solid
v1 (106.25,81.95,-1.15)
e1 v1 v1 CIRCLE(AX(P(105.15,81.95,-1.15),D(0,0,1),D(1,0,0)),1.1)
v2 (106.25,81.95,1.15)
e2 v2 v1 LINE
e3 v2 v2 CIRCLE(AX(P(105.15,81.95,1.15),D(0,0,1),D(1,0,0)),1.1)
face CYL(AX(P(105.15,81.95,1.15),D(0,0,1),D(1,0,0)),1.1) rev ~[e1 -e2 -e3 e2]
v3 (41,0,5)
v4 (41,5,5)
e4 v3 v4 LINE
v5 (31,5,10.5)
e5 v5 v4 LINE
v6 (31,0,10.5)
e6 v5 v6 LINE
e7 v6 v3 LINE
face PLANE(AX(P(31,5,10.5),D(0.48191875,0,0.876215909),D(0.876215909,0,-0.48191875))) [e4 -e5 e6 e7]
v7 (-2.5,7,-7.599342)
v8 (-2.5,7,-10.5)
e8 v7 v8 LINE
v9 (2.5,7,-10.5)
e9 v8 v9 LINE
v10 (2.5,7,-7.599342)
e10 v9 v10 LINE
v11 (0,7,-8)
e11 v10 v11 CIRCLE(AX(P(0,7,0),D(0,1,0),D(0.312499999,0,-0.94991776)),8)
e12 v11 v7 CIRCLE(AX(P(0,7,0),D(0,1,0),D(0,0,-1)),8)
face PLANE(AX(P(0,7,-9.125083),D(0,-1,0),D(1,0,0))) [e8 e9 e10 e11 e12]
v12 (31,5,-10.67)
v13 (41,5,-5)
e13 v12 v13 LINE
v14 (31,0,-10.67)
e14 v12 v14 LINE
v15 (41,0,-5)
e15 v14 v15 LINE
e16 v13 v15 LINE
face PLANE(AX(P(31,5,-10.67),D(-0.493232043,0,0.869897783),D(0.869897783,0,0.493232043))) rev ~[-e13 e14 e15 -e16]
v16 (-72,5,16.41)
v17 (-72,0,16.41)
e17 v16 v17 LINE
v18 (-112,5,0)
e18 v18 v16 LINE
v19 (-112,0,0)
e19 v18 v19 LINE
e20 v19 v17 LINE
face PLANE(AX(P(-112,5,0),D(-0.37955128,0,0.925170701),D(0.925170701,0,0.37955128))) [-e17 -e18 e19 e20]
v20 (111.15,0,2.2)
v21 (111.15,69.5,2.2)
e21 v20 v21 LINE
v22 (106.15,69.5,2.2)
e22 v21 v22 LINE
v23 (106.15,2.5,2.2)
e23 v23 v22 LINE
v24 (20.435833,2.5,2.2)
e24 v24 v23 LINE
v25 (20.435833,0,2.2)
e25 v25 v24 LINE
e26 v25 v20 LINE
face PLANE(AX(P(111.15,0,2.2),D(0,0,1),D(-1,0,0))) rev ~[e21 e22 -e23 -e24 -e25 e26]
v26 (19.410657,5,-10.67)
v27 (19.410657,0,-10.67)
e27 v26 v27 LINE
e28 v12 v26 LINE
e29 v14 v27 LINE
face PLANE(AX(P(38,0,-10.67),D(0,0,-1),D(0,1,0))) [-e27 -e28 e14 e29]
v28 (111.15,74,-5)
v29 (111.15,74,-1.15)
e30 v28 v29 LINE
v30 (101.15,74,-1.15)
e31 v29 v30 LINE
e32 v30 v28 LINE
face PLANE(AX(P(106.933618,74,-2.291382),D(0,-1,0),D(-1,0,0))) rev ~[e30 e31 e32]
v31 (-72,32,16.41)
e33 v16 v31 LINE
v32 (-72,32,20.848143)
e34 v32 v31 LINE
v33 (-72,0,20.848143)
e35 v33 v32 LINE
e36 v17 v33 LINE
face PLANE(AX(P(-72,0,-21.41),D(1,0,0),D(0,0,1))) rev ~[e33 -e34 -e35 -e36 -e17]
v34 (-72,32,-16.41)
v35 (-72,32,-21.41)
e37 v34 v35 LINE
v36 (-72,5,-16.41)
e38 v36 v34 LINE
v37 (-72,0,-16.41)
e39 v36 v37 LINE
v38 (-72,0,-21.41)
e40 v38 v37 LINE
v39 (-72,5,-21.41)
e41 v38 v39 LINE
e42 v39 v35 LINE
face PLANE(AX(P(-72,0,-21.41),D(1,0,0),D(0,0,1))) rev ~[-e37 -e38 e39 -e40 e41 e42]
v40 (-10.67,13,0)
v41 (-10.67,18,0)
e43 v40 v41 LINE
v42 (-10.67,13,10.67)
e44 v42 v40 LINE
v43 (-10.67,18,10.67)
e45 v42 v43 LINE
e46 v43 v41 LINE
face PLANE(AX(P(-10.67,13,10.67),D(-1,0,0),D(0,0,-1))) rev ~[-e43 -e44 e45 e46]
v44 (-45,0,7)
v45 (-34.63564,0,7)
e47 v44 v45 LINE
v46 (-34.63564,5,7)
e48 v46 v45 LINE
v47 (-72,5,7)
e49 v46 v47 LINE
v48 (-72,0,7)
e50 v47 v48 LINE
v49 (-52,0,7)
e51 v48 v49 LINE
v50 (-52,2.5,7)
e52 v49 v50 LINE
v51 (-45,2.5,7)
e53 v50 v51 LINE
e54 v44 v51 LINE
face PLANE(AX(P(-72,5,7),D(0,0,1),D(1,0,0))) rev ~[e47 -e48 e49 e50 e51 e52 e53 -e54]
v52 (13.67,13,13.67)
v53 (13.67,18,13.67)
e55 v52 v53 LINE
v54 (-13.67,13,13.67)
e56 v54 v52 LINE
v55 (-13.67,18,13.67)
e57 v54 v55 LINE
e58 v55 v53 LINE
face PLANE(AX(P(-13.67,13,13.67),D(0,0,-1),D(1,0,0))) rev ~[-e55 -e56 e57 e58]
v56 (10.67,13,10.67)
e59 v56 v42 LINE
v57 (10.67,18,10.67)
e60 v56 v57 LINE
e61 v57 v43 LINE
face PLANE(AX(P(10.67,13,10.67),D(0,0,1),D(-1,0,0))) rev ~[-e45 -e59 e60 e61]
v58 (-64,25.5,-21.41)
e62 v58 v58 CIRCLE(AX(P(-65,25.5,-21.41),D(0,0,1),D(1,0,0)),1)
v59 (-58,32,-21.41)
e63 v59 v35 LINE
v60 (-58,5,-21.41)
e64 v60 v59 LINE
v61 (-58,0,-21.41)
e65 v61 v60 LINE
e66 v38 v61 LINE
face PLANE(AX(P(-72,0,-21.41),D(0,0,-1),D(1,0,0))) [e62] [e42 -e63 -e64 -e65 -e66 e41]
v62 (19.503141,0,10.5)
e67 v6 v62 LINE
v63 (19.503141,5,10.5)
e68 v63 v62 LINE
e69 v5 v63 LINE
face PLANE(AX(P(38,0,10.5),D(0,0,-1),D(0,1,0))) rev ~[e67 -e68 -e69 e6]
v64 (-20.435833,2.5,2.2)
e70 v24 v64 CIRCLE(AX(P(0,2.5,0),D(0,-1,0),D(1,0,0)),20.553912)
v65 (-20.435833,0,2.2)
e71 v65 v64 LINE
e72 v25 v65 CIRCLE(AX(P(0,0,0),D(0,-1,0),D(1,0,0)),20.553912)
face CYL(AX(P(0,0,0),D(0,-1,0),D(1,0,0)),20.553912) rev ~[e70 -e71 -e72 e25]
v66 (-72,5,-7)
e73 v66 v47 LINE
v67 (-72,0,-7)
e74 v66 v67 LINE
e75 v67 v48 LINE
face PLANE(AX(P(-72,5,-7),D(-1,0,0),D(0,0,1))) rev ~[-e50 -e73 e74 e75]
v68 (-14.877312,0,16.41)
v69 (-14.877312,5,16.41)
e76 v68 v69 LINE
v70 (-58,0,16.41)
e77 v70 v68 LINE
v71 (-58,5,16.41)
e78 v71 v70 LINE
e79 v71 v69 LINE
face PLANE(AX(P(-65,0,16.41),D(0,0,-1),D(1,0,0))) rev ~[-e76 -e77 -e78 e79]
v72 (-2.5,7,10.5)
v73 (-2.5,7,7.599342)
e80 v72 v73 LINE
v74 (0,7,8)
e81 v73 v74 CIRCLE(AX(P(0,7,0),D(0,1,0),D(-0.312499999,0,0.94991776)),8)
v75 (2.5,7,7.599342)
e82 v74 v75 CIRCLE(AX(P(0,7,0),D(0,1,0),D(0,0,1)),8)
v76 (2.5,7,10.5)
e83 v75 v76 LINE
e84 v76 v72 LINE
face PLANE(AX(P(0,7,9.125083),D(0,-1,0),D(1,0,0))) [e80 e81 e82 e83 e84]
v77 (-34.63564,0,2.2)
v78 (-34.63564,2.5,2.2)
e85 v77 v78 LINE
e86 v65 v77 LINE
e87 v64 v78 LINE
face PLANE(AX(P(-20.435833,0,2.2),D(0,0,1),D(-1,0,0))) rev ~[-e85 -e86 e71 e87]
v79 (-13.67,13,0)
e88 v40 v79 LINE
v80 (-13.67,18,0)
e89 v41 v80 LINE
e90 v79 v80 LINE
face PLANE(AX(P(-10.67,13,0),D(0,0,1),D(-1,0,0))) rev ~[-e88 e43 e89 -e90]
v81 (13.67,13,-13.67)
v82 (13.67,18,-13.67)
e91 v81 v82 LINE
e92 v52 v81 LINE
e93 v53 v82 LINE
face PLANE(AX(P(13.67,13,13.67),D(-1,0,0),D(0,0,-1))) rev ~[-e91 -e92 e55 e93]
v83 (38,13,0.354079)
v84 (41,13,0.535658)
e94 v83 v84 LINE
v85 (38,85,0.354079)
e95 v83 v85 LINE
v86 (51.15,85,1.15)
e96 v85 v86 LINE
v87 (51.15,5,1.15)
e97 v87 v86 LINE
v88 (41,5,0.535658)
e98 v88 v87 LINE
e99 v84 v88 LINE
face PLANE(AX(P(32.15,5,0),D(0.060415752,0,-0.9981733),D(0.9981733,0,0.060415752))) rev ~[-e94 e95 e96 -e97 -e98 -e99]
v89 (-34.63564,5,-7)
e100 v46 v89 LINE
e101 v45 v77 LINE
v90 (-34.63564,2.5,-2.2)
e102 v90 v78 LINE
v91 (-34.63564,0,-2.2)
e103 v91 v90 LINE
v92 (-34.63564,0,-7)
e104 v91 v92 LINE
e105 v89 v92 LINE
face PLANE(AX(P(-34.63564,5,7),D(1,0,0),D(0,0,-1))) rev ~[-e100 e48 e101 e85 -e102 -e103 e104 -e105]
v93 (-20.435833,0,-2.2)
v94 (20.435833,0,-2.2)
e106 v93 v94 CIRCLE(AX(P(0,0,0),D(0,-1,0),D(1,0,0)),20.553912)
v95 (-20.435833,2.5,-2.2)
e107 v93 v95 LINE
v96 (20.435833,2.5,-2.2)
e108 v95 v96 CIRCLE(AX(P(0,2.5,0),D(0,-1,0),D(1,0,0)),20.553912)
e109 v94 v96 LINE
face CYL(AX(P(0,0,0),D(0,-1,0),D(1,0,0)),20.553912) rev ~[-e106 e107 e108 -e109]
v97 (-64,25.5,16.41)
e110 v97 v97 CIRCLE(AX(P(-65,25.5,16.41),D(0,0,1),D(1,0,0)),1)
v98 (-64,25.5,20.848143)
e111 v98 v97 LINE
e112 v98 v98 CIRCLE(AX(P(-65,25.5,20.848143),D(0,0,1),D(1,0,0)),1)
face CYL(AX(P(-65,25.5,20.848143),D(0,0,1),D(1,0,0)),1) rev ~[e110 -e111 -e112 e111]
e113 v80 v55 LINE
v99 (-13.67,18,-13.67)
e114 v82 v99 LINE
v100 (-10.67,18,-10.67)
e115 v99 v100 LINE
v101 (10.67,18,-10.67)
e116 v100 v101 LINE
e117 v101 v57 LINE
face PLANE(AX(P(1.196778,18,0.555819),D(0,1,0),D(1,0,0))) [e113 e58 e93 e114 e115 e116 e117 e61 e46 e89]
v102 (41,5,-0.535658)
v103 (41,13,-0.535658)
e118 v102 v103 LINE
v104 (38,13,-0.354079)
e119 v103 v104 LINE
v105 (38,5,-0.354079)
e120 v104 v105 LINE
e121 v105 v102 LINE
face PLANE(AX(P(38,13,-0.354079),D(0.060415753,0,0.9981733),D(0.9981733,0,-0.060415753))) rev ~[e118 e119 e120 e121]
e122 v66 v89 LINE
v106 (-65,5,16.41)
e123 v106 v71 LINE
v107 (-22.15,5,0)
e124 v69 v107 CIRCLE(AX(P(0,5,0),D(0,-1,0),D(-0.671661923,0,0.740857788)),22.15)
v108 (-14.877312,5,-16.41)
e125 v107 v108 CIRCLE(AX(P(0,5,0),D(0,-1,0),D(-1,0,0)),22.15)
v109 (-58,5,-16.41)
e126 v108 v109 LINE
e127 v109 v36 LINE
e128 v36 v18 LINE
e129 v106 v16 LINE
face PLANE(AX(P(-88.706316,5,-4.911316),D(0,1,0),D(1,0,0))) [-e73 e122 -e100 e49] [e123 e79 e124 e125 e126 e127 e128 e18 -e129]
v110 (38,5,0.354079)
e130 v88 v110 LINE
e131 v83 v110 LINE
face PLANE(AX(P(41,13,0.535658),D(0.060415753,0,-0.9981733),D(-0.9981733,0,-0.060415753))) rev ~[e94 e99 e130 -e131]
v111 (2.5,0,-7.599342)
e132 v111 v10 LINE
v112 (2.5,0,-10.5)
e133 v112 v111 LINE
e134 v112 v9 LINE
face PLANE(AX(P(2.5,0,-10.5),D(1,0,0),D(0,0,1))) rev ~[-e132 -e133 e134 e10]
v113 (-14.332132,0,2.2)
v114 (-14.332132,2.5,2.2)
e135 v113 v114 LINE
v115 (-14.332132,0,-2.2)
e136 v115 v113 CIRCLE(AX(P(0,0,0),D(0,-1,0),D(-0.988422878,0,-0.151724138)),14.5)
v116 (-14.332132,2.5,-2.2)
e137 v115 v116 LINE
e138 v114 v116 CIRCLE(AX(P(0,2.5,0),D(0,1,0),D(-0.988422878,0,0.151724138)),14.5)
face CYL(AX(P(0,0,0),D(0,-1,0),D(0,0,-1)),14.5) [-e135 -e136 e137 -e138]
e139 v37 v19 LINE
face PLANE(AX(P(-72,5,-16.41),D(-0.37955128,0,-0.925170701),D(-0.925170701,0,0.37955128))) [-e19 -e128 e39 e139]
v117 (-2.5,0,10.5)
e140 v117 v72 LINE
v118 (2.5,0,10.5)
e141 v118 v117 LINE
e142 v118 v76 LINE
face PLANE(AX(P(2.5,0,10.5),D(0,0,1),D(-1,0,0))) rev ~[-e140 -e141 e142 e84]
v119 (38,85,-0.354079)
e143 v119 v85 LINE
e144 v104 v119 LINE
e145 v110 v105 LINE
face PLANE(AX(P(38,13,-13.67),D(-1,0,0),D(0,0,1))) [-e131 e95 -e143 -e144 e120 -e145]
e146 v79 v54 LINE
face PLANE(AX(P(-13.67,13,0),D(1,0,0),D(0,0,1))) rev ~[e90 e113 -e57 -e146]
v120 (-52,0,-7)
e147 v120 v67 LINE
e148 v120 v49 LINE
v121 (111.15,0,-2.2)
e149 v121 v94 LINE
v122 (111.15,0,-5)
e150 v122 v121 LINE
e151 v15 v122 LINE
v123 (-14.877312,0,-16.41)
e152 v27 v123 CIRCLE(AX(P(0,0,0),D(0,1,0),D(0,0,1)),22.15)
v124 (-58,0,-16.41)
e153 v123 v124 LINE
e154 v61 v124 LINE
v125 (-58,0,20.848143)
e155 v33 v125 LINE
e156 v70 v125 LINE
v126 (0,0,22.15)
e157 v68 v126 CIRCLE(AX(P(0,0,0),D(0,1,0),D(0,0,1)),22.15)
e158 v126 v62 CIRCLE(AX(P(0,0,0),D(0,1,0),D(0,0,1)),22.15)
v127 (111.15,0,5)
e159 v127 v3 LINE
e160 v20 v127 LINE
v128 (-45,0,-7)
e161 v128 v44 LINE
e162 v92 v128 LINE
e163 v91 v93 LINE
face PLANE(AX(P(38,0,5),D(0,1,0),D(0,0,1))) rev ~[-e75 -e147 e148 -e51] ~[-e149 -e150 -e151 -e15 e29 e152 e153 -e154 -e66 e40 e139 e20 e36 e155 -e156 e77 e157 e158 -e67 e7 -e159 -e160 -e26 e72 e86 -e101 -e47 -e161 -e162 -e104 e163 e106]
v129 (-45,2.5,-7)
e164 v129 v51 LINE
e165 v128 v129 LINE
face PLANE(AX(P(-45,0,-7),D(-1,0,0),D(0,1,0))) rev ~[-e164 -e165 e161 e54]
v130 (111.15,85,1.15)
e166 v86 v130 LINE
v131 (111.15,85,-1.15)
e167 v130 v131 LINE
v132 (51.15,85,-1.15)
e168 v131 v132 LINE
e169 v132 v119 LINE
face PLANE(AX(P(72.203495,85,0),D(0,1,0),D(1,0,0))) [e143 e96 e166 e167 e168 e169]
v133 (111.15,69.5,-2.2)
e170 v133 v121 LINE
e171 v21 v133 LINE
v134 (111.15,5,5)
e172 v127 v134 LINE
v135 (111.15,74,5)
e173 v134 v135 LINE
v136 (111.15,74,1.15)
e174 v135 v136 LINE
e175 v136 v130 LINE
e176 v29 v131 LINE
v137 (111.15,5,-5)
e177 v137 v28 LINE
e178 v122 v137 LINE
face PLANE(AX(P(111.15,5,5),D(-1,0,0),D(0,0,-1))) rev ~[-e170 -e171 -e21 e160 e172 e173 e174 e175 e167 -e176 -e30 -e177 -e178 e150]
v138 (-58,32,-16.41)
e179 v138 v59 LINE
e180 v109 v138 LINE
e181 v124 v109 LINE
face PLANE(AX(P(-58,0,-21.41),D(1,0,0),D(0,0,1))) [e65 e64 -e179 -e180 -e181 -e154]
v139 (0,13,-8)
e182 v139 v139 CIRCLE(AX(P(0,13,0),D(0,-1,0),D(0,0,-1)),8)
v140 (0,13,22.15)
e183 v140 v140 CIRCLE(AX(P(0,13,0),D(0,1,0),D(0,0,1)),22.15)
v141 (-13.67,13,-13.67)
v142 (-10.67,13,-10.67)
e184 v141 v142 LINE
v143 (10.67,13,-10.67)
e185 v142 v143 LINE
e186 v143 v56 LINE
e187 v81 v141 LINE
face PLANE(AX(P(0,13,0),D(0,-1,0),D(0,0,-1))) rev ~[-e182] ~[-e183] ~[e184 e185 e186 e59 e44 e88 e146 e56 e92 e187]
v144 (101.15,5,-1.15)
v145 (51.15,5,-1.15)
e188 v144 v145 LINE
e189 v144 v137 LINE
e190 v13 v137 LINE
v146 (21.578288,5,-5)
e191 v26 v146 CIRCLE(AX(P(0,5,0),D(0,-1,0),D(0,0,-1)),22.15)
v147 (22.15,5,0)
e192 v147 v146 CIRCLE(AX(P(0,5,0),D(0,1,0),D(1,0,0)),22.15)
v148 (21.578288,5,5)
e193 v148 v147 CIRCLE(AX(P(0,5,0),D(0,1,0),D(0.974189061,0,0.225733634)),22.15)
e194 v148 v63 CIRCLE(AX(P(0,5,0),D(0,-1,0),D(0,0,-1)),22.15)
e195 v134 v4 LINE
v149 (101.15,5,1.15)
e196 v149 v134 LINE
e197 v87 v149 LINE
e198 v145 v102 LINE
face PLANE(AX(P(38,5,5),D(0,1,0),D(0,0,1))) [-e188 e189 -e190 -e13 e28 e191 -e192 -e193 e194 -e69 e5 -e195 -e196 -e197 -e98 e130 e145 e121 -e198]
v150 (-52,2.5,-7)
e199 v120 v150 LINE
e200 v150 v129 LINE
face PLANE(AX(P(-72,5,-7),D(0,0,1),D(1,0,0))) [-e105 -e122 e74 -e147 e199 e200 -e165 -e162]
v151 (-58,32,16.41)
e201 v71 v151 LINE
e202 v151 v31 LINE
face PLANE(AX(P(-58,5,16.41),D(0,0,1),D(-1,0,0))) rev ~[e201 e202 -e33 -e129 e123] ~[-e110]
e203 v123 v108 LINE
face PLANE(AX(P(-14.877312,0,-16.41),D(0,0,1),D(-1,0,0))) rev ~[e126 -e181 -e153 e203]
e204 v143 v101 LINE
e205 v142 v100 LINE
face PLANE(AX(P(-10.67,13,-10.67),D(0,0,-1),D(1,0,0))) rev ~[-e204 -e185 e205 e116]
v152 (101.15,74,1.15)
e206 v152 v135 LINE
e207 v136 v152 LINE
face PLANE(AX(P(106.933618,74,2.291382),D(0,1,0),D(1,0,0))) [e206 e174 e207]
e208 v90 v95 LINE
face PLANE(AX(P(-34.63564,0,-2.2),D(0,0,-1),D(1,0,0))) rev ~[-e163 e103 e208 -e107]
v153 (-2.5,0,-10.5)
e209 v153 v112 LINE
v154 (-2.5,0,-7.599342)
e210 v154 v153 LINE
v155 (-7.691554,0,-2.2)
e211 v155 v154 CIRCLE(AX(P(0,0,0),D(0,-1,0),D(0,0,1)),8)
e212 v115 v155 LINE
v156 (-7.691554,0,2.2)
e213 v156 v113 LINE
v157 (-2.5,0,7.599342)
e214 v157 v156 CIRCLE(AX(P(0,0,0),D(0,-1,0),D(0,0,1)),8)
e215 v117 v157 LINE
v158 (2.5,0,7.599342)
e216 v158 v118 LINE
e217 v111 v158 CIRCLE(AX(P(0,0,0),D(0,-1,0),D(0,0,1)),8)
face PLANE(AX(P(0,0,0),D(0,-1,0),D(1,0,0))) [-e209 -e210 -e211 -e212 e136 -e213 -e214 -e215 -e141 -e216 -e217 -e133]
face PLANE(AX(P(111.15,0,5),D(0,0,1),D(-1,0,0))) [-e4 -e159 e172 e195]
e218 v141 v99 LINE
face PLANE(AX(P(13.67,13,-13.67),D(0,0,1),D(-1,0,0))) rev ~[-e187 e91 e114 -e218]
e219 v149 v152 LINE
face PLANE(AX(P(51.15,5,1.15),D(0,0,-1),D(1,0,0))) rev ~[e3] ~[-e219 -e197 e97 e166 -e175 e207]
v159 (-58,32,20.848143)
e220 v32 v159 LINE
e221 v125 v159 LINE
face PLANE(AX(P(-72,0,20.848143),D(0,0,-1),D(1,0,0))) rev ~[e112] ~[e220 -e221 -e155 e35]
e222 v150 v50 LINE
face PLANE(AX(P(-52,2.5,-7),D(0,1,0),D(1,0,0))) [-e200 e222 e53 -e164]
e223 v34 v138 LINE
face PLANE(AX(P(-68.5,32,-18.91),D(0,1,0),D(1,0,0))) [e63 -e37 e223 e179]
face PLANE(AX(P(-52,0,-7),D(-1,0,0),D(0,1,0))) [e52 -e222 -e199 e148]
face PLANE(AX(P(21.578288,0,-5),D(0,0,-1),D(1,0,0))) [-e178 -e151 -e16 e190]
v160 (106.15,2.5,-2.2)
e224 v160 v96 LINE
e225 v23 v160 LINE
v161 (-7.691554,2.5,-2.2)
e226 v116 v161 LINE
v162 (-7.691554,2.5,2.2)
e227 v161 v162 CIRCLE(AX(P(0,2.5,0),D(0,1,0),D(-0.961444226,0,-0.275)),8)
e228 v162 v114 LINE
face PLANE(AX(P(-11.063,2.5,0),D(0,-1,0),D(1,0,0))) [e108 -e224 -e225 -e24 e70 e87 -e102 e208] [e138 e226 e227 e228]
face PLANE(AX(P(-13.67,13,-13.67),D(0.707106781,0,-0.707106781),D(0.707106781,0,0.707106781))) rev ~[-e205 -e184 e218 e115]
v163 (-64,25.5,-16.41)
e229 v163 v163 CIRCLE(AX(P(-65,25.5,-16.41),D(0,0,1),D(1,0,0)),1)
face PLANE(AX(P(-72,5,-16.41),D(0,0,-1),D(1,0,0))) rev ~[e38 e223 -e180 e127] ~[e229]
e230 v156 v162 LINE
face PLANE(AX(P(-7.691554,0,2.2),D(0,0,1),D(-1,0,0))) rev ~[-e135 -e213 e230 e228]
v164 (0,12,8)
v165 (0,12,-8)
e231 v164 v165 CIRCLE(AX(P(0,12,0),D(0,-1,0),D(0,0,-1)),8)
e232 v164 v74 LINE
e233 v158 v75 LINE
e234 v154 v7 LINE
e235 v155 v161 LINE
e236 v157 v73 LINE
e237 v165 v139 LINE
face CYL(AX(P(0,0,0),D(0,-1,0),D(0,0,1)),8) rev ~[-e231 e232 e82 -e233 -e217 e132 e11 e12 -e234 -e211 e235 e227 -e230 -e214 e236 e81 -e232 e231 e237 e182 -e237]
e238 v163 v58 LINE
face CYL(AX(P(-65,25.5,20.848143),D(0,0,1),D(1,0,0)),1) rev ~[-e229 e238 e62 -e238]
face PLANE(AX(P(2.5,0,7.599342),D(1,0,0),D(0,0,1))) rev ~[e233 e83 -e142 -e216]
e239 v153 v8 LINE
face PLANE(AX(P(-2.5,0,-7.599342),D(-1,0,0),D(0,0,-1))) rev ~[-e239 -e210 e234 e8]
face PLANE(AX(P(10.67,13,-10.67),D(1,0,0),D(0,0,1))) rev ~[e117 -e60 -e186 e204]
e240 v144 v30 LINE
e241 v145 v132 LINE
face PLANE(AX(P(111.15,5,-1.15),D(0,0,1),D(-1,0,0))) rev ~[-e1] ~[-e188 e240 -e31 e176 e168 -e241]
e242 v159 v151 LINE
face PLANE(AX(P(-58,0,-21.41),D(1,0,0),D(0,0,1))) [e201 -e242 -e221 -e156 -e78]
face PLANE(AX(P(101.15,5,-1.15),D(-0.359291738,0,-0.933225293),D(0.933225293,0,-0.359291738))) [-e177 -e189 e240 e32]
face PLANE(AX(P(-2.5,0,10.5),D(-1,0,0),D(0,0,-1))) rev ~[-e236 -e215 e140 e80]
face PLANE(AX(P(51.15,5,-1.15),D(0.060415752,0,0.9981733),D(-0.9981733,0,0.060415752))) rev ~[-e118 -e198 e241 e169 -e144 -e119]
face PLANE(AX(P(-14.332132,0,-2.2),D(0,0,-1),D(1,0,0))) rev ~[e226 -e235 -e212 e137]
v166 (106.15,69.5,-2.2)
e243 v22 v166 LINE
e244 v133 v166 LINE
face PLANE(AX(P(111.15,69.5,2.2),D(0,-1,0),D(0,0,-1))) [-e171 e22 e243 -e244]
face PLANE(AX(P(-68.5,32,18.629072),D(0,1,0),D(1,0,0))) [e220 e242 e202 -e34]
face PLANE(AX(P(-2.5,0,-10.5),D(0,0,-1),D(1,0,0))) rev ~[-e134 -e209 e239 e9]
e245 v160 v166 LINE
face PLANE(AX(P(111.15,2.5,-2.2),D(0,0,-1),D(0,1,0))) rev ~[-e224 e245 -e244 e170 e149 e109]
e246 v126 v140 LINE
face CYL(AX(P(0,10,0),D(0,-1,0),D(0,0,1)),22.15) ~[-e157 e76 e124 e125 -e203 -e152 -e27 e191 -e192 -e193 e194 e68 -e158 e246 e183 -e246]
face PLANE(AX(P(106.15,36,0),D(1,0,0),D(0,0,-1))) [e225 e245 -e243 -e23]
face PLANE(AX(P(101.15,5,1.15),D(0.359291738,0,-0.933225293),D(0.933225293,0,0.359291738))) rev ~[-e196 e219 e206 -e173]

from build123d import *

# Parameters (mm, degrees)
SKETCH1_R                 = 22.15
SKETCH1_R_2               = 16.15
BOSS_EXTRUDE1_DEPTH       = 10
SKETCH2_R                 = 22.15
SKETCH2_R_2               = 12.15
BOSS_EXTRUDE2_DEPTH       = 3
BOSS_EXTRUDE3_START       = -13
BOSS_EXTRUDE3_DEPTH       = 5
SKETCH10_W                = 7
SKETCH10_H                = 4.438143107
SKETCH10_H_2              = 5
BOSS_EXTRUDE5_DEPTH       = 27
SKETCH11_R                = 1
CUT_EXTRUDE2_DEPTH        = 90.759903691
SKETCH12_W                = 14
SKETCH12_H                = 42.258143107
BOSS_EXTRUDE6_DEPTH       = 5
BOSS_EXTRUDE7_DEPTH       = 5
BOSS_EXTRUDE8_DEPTH       = 80
SKETCH16_W                = 26.34
SKETCH16_H                = 26.34
SKETCH16_W_2              = 21.34
SKETCH16_H_2              = 21.34
BOSS_EXTRUDE9_DEPTH       = 6
SKETCH17_W                = 2.5
SKETCH17_H                = 10.67
CUT_EXTRUDE3_DEPTH        = 6
BOSS_EXTRUDE11_DEPTH      = 5
BOSS_EXTRUDE12_START      = -2
SKETCH23_R                = 12.15
SKETCH23_R_2              = 8
BOSS_EXTRUDE12_DEPTH      = 1
SKETCH24_W                = 37.364360225
SKETCH24_H                = 7
CUT_EXTRUDE5_DEPTH        = 10
SKETCH25_R                = 1.1
CUT_EXTRUDE6_DEPTH        = 10
CUT_EXTRUDE8_DEPTH        = 80
SKETCH29_R                = 20.553911634
SKETCH29_R_2              = 17.753911634
CUT_EXTRUDE9_DEPTH        = 2.5
BOSS_EXTRUDE13_REACH      = 136.976
SKETCH30_W                = 7
SKETCH30_H                = 3
SKETCH31_W                = 3
SKETCH31_H                = 14
CUT_EXTRUDE10_DEPTH       = 135.976377563
CUT_EXTRUDE11_DEPTH       = 140.4081149
SKETCH36_W                = 26.34
SKETCH36_H                = 26.34
CUT_EXTRUDE12_DEPTH       = 6
SKETCH37_W                = 3
SKETCH37_H                = 4.4
CUT_EXTRUDE13_DEPTH       = 2.5
BOSS_EXTRUDE15_DEPTH      = 69
SKETCH41_W                = 4.4
SKETCH41_H                = 67
CUT_EXTRUDE14_DEPTH       = 5
BOSS_EXTRUDE16_REACH      = 175.826
BOSS_EXTRUDE16_END_RADIUS = 22.15
SKETCH42_W                = 5.67
SKETCH42_H                = 5
SKETCH42_W_2              = 5.5
SKETCH43_W                = 7
SKETCH43_H                = 2.5
BOSS_EXTRUDE17_DEPTH      = 14
CUT_EXTRUDE15_DEPTH       = 8
CUT_EXTRUDE16_DEPTH       = 140.4081149
BOSS_EXTRUDE18_START      = 2
SKETCH48_R                = 12.15
SKETCH48_R_2              = 8
BOSS_EXTRUDE18_DEPTH      = 2
BOSS_EXTRUDE19_START      = 10
SKETCH49_R                = 16.15
SKETCH49_R_2              = 8
BOSS_EXTRUDE19_DEPTH      = 10
SKETCH50_R                = 17.753911634
SKETCH50_R_2              = 14.5
CUT_EXTRUDE17_DEPTH       = 2.5
CUT_EXTRUDE18_DEPTH       = 7
BOSS_EXTRUDE20_DEPTH      = 5
CUT_EXTRUDE20_DEPTH       = 2.5


with BuildPart() as part:
    # Sketch1 → Boss-Extrude1 (new body)
    with BuildSketch(Plane(origin=(0, 0, 0), x_dir=(1, 0, 0), z_dir=(0, 1, 0))):
        with Locations(Location((0, 0, 0), (0, 0, 270))):
            Circle(SKETCH1_R)
        with Locations(Location((0, 0, 0), (0, 0, 270))):
            Circle(SKETCH1_R_2, mode=Mode.SUBTRACT)
    extrude(amount=BOSS_EXTRUDE1_DEPTH)

    # Sketch2 → Boss-Extrude2 (add)
    with BuildSketch(Plane(origin=(0, 10, 0), x_dir=(1, 0, 0), z_dir=(0, 1, 0))):
        with Locations(Location((0, 0, 0), (0, 0, 270))):
            Circle(SKETCH2_R)
        with Locations(Location((0, 0, 0), (0, 0, 270))):
            Circle(SKETCH2_R_2, mode=Mode.SUBTRACT)
    extrude(amount=BOSS_EXTRUDE2_DEPTH)

    # Sketch3 → Boss-Extrude3 (add)
    with BuildSketch(Plane(origin=(0, 13, 0), x_dir=(1, 0, 0), z_dir=(0, 1, 0)).offset(BOSS_EXTRUDE3_START)):
        with BuildLine():
            Line((-65, 0), (-22.15, 0))
            ThreePointArc((-22.15, 0), (-20.25036977, 8.974687972), (-14.877311585, 16.41))
            Line((-14.877311585, 16.41), (-65, 16.41))
            Line((-65, 16.41), (-65, 0))
        make_face()
        with BuildLine():
            ThreePointArc((-14.877311585, -16.41), (-20.25036977, -8.974687972), (-22.15, 0))
            Line((-22.15, 0), (-65, 0))
            Line((-65, 0), (-65, -16.41))
            Line((-65, -16.41), (-14.877311585, -16.41))
        make_face()
    extrude(amount=BOSS_EXTRUDE3_DEPTH)



with BuildPart() as body_2:
    # Sketch10 → Boss-Extrude5 (new body)
    with BuildSketch(Plane(origin=(0, 5, 0), x_dir=(1, 0, 0), z_dir=(0, 1, 0))):
        with Locations((-68.5, -18.629071554)):
            Rectangle(SKETCH10_W, SKETCH10_H)
        with Locations((-61.5, -18.629071554)):
            Rectangle(SKETCH10_W, SKETCH10_H)
        with Locations((-68.5, 18.91)):
            Rectangle(SKETCH10_W, SKETCH10_H_2)
        with Locations((-61.5, 18.91)):
            Rectangle(SKETCH10_W, SKETCH10_H_2)
    extrude(amount=BOSS_EXTRUDE5_DEPTH)

    # Sketch11 → Cut-Extrude2 (cut, through all)
    with BuildSketch(Plane.XY.offset(20.848143107)):
        with Locations((-65, 25.5)):
            Circle(SKETCH11_R)
    extrude(amount=-CUT_EXTRUDE2_DEPTH, mode=Mode.SUBTRACT)


with BuildPart() as part_1:
    add(part.part)

    add(body_2.part)  # Boss-Extrude6 merges body 2
    # Sketch12 → Boss-Extrude6 (add)
    with BuildSketch(Plane.XZ):
        with Locations((-65, -0.280928446)):
            Rectangle(SKETCH12_W, SKETCH12_H)
    extrude(amount=-BOSS_EXTRUDE6_DEPTH)

    # Sketch13 → Boss-Extrude7 (add)
    with BuildSketch(Plane.XZ):
        with BuildLine():
            Line((111.15, 0), (22.15, 0))
            ThreePointArc((22.15, 0), (22.006607786, -2.516289677), (21.578287699, -5))
            Line((21.578287699, -5), (111.15, -5))
            Line((111.15, -5), (111.15, 0))
        make_face()
        with BuildLine():
            ThreePointArc((21.578287699, 5), (22.006607786, 2.516289677), (22.15, 0))
            Line((22.15, 0), (111.15, 0))
            Line((111.15, 0), (111.15, 5))
            Line((111.15, 5), (21.578287699, 5))
        make_face()
    extrude(amount=-BOSS_EXTRUDE7_DEPTH)

    # Sketch14 → Boss-Extrude8 (add)
    with BuildSketch(Plane(origin=(0, 5, 0), x_dir=(1, 0, 0), z_dir=(0, 1, 0))):
        Polygon((111.15, -1.15), (111.15, 0), (111.15, 1.15), (51.15, 1.15), (32.15, 0), (51.15, -1.15), align=None)
    extrude(amount=BOSS_EXTRUDE8_DEPTH)

    # Sketch16 → Boss-Extrude9 (add)
    with BuildSketch(Plane(origin=(0, 13, 0), x_dir=(1, 0, 0), z_dir=(0, 1, 0))):
        with Locations((0.03, 0.03)):
            Rectangle(SKETCH16_W, SKETCH16_H)
        with Locations((0.03, 0.03)):
            Rectangle(SKETCH16_W_2, SKETCH16_H_2, mode=Mode.SUBTRACT)
    extrude(amount=BOSS_EXTRUDE9_DEPTH)

    # Sketch17 → Cut-Extrude3 (cut)
    with BuildSketch(Plane(origin=(0, 19, 0), x_dir=(1, 0, 0), z_dir=(0, 1, 0))):
        with Locations((-11.89, 5.365)):
            Rectangle(SKETCH17_W, SKETCH17_H)
    extrude(amount=-CUT_EXTRUDE3_DEPTH, mode=Mode.SUBTRACT)

    # Sketch20 → Boss-Extrude11 (add)
    with BuildSketch(Plane(origin=(0, 5, 0), x_dir=(1, 0, 0), z_dir=(0, 1, 0))):
        Polygon((-112, 0), (-72, 0), (-72, 16.41), align=None)
        Polygon((-72, -16.41), (-72, 0), (-112, 0), align=None)
    extrude(amount=-BOSS_EXTRUDE11_DEPTH)

    # Sketch23 → Boss-Extrude12 (add)
    with BuildSketch(Plane.XZ.offset(-10).offset(BOSS_EXTRUDE12_START)):
        with Locations(Location((0, 0, 0), (0, 0, 270))):
            Circle(SKETCH23_R)
        with Locations(Location((0, 0, 0), (0, 0, 270))):
            Circle(SKETCH23_R_2, mode=Mode.SUBTRACT)
    extrude(amount=-BOSS_EXTRUDE12_DEPTH)

    # Sketch24 → Cut-Extrude5 (cut)
    with BuildSketch(Plane(origin=(0, 5, 0), x_dir=(1, 0, 0), z_dir=(0, 1, 0))):
        with Locations((-53.317819888, 3.5)):
            Rectangle(SKETCH24_W, SKETCH24_H)
        with Locations((-53.317819888, -3.5)):
            Rectangle(SKETCH24_W, SKETCH24_H)
    extrude(amount=-CUT_EXTRUDE5_DEPTH, mode=Mode.SUBTRACT)

    # Sketch25 → Cut-Extrude6 (cut)
    with BuildSketch(Plane.XY.offset(1.15)):
        with Locations((105.15, 81.95)):
            Circle(SKETCH25_R)
    extrude(amount=-CUT_EXTRUDE6_DEPTH, mode=Mode.SUBTRACT)

    # Sketch28 → Cut-Extrude8 (cut)
    with BuildSketch(Plane(origin=(0, 85, 0), x_dir=(1, 0, 0), z_dir=(0, 1, 0))):
        Polygon((36.15, 0.242105263), (32.15, 0), (36.15, 0), align=None)
        Polygon((36.15, 0), (32.15, 0), (36.15, -0.242105263), align=None)
    extrude(amount=-CUT_EXTRUDE8_DEPTH, mode=Mode.SUBTRACT)

    # Sketch29 → Cut-Extrude9 (cut)
    # profile 1 of 4: a face of its own
    with BuildSketch(Plane.XZ):
        with BuildLine():
            Line((111.15, -2.2), (111.15, 0))
            Line((111.15, 0), (111.15, 2.2))
            Line((111.15, 2.2), (20.435833319, 2.2))
            ThreePointArc((20.435833319, 2.2), (20.524370827, 1.101583234), (20.553911634, 0))
            ThreePointArc((20.553911634, 0), (20.524370827, -1.101583234), (20.435833319, -2.2))
            Line((20.435833319, -2.2), (111.15, -2.2))
        make_face()
    # profile 2 of 4: a face of its own
    with BuildSketch(Plane.XZ):
        Circle(SKETCH29_R)
        with Locations(Location((0, 0, 0), (0, 0, 270))):
            Circle(SKETCH29_R_2, mode=Mode.SUBTRACT)
    # profile 3 of 4: a face of its own
    with BuildSketch(Plane.XZ):
        with BuildLine():
            Line((-34.635639775, -2.2), (-20.435833319, -2.2))
            ThreePointArc((-20.435833319, -2.2), (-20.524370827, -1.101583234), (-20.553911634, 0))
            Line((-20.553911634, 0), (-34.635639775, 0))
            Line((-34.635639775, 0), (-34.635639775, -2.2))
        make_face()
    # profile 4 of 4: a face of its own
    with BuildSketch(Plane.XZ):
        with BuildLine():
            ThreePointArc((-20.553911634, 0), (-20.524370827, 1.101583234), (-20.435833319, 2.2))
            Line((-20.435833319, 2.2), (-34.635639775, 2.2))
            Line((-34.635639775, 2.2), (-34.635639775, 0))
            Line((-34.635639775, 0), (-20.553911634, 0))
        make_face()
    extrude(amount=-CUT_EXTRUDE9_DEPTH, mode=Mode.SUBTRACT)

    # Boss-Extrude13: up to this face of the body (flat: up to its plane)
    boss_extrude13_end = Plane(part_1.part.faces().sort_by_distance((0, 0, 17.251755182))[0])
    # Sketch30 → Boss-Extrude13 (add, up to the picked face)
    with BuildSketch(Plane(origin=(0, 13, 0), x_dir=(1, 0, 0), z_dir=(0, 1, 0)), mode=Mode.PRIVATE) as boss_extrude13_sk1:
        Polygon((-38.34, -10.5), (-38.34, 0), (-38.34, 10.67), (-31.34, 10.67), (-31.34, 13.67), (-41.34, 13.67), (-41.34, -13.5), (-38.34, -13.5), align=None)
    boss_extrude13_tool1 = split(extrude(boss_extrude13_sk1.sketch, amount=-BOSS_EXTRUDE13_REACH, mode=Mode.PRIVATE), bisect_by=boss_extrude13_end, keep=Keep.BOTH, mode=Mode.PRIVATE)
    # Sketch30 → Boss-Extrude13 (add, up to the picked face)
    with BuildSketch(Plane(origin=(0, 13, 0), x_dir=(1, 0, 0), z_dir=(0, 1, 0)), mode=Mode.PRIVATE) as boss_extrude13_sk2:
        with Locations((-34.84, -12)):
            Rectangle(SKETCH30_W, SKETCH30_H)
    boss_extrude13_tool2 = split(extrude(boss_extrude13_sk2.sketch, amount=-BOSS_EXTRUDE13_REACH, mode=Mode.PRIVATE), bisect_by=boss_extrude13_end, keep=Keep.BOTH, mode=Mode.PRIVATE)
    # Sketch30 → Boss-Extrude13 (add, up to the picked face)
    with BuildSketch(Plane(origin=(0, 13, 0), x_dir=(1, 0, 0), z_dir=(0, 1, 0)), mode=Mode.PRIVATE) as boss_extrude13_sk3:
        Polygon((38, -10.5), (31, -10.5), (31, -13.5), (41, -13.5), (41, 13.67), (38, 13.67), (38, 10.67), align=None)
    boss_extrude13_tool3 = split(extrude(boss_extrude13_sk3.sketch, amount=-BOSS_EXTRUDE13_REACH, mode=Mode.PRIVATE), bisect_by=boss_extrude13_end, keep=Keep.BOTH, mode=Mode.PRIVATE)
    # Sketch30 → Boss-Extrude13 (add, up to the picked face)
    with BuildSketch(Plane(origin=(0, 13, 0), x_dir=(1, 0, 0), z_dir=(0, 1, 0)), mode=Mode.PRIVATE) as boss_extrude13_sk4:
        with Locations((34.5, 12.17)):
            Rectangle(SKETCH30_W, SKETCH30_H)
    boss_extrude13_tool4 = split(extrude(boss_extrude13_sk4.sketch, amount=-BOSS_EXTRUDE13_REACH, mode=Mode.PRIVATE), bisect_by=boss_extrude13_end, keep=Keep.BOTH, mode=Mode.PRIVATE)
    add(boss_extrude13_tool1.solids().sort_by(Axis((-38.81571, 13, -2.56071), (0, -1, 0)))[0])
    add(boss_extrude13_tool2.solids().sort_by(Axis((-34.84, 13, 12), (0, -1, 0)))[0])
    add(boss_extrude13_tool3.solids().sort_by(Axis((38.47571, 13, 2.39071), (0, -1, 0)))[0])
    add(boss_extrude13_tool4.solids().sort_by(Axis((34.5, 13, -12.17), (0, -1, 0)))[0])

    # Sketch31 → Cut-Extrude10 (cut, through all)
    with BuildSketch(Plane(origin=(0, 13, 0), x_dir=(1, 0, 0), z_dir=(0, 1, 0))):
        with Locations((-39.84, 0)):
            Rectangle(SKETCH31_W, SKETCH31_H)
    extrude(amount=-CUT_EXTRUDE10_DEPTH, mode=Mode.SUBTRACT)

    # Sketch33 → Cut-Extrude11 (cut, through all)
    with BuildSketch(Plane(origin=(0, 5, 0), x_dir=(1, 0, 0), z_dir=(0, 1, 0))):
        Polygon((38, 0.354078947), (36.15, 0.242105263), (36.15, -0.242105263), (38, -0.354078947), align=None)
    extrude(amount=CUT_EXTRUDE11_DEPTH, mode=Mode.SUBTRACT)

    # Sketch36 → Cut-Extrude12 (cut)
    with BuildSketch(Plane(origin=(0, 19, 0), x_dir=(1, 0, 0), z_dir=(0, 1, 0))):
        with Locations((0.03, 0.03)):
            Rectangle(SKETCH36_W, SKETCH36_H)
    extrude(amount=-CUT_EXTRUDE12_DEPTH, mode=Mode.SUBTRACT)

    # Sketch37 → Cut-Extrude13 (cut)
    with BuildSketch(Plane.XZ):
        with Locations((39.5, 0)):
            Rectangle(SKETCH37_W, SKETCH37_H)
    extrude(amount=-CUT_EXTRUDE13_DEPTH, mode=Mode.SUBTRACT)

    # Sketch40 → Boss-Extrude15 (add)
    with BuildSketch(Plane(origin=(0, 5, 0), x_dir=(1, 0, 0), z_dir=(0, 1, 0))):
        Polygon((101.15, -1.15), (111.15, -5), (111.15, -1.15), align=None)
        Polygon((101.15, 1.15), (111.15, 5), (111.15, 1.15), align=None)
    extrude(amount=BOSS_EXTRUDE15_DEPTH)

    # Sketch41 → Cut-Extrude14 (cut)
    with BuildSketch(Plane(origin=(111.15, 0, 0), x_dir=(0, 0, -1), z_dir=(1, 0, 0))):
        with Locations((0, 36)):
            Rectangle(SKETCH41_W, SKETCH41_H)
    extrude(amount=-CUT_EXTRUDE14_DEPTH, mode=Mode.SUBTRACT)

    # Boss-Extrude16: up to this cylinder (the profile starts outside it)
    boss_extrude16_end = Plane(origin=(0, 2.5, 0), z_dir=(0, -1, 0)) * Cylinder(BOSS_EXTRUDE16_END_RADIUS, 396.952, mode=Mode.PRIVATE)
    # Sketch42 → Boss-Extrude16 (add, up to the surface)
    with BuildSketch(Plane.ZY.offset(-38), mode=Mode.PRIVATE) as boss_extrude16_sk1:
        with Locations((-7.835, 2.5)):
            Rectangle(SKETCH42_W, SKETCH42_H)
    boss_extrude16_tool1 = extrude(boss_extrude16_sk1.sketch, amount=BOSS_EXTRUDE16_REACH, mode=Mode.PRIVATE) - boss_extrude16_end
    add(boss_extrude16_tool1.solids().sort_by_distance((38, 2.5, -7.835))[0])
    # Sketch42 → Boss-Extrude16 (add, up to the surface)
    with BuildSketch(Plane.ZY.offset(-38), mode=Mode.PRIVATE) as boss_extrude16_sk2:
        with Locations((7.75, 2.5)):
            Rectangle(SKETCH42_W_2, SKETCH42_H)
    boss_extrude16_tool2 = extrude(boss_extrude16_sk2.sketch, amount=BOSS_EXTRUDE16_REACH, mode=Mode.PRIVATE) - boss_extrude16_end
    add(boss_extrude16_tool2.solids().sort_by_distance((38, 2.5, 7.75))[0])

    # Sketch43 → Boss-Extrude17 (add)
    with BuildSketch(Plane.XY.offset(-7)):
        with Locations((-48.5, 1.25)):
            Rectangle(SKETCH43_W, SKETCH43_H)
    extrude(amount=BOSS_EXTRUDE17_DEPTH)

    # Sketch44 → Cut-Extrude15 (cut)
    with BuildSketch(Plane(origin=(0, 13, 0), x_dir=(1, 0, 0), z_dir=(0, 1, 0))):
        Polygon((41, -13.5), (41, -0.535657895), (38, -0.354078947), (38, 0.354078947), (41, 0.535657895), (41, 13.67), (31, 13.67), (31, -13.5), align=None)
        Polygon((-41.34, 13.67), (-41.34, 7), (-38.34, 7), (-38.34, 10.67), (-31.34, 10.67), (-31.34, 13.67), align=None)
        Polygon((-38.34, 7), (-41.34, 7), (-41.34, -13.5), (-31.34, -13.5), (-31.34, 10.67), (-38.34, 10.67), align=None)
    extrude(amount=-CUT_EXTRUDE15_DEPTH, mode=Mode.SUBTRACT)

    # Sketch45 → Cut-Extrude16 (cut, through all)
    with BuildSketch(Plane(origin=(0, 5, 0), x_dir=(1, 0, 0), z_dir=(0, 1, 0))):
        Polygon((31, -10.5), (41, -5), (41, -13.5), (31, -13.5), align=None)
        Polygon((41, 13.67), (31, 13.67), (31, 10.67), (41, 5), align=None)
    extrude(amount=-CUT_EXTRUDE16_DEPTH, mode=Mode.SUBTRACT)

    # Sketch48 → Boss-Extrude18 (add)
    with BuildSketch(Plane(origin=(0, 12, 0), x_dir=(-1, 0, 0), z_dir=(0, -1, 0)).offset(BOSS_EXTRUDE18_START)):
        Circle(SKETCH48_R)
        with Locations(Location((0, 0, 0), (0, 0, 270))):
            Circle(SKETCH48_R_2, mode=Mode.SUBTRACT)
    extrude(amount=-BOSS_EXTRUDE18_DEPTH)

    # Sketch49 → Boss-Extrude19 (add)
    with BuildSketch(Plane.XZ.offset(-10).offset(BOSS_EXTRUDE19_START)):
        Circle(SKETCH49_R)
        with Locations(Location((0, 0, 0), (0, 0, 90))):
            Circle(SKETCH49_R_2, mode=Mode.SUBTRACT)
    extrude(amount=-BOSS_EXTRUDE19_DEPTH)

    # Sketch50 → Cut-Extrude17 (cut)
    with BuildSketch(Plane(origin=(0, 0, 0), x_dir=(-1, 0, 0), z_dir=(0, -1, 0))):
        Circle(SKETCH50_R)
        with Locations(Location((0, 0, 0), (0, 0, 90))):
            Circle(SKETCH50_R_2, mode=Mode.SUBTRACT)
    extrude(amount=-CUT_EXTRUDE17_DEPTH, mode=Mode.SUBTRACT)

    # Sketch51 → Cut-Extrude18 (cut)
    with BuildSketch(Plane.XZ):
        with BuildLine():
            ThreePointArc((-2.5, 7.599342077), (-1.265950905, 7.899200485), (0, 8))
            ThreePointArc((0, 8), (1.265950905, 7.899200485), (2.5, 7.599342077))
            Line((2.5, 7.599342077), (2.5, 10.5))
            Line((2.5, 10.5), (-2.5, 10.5))
            Line((-2.5, 10.5), (-2.5, 7.599342077))
        make_face()
        with BuildLine():
            ThreePointArc((0, -8), (-1.265950905, -7.899200485), (-2.5, -7.599342077))
            Line((-2.5, -7.599342077), (-2.5, -10.5))
            Line((-2.5, -10.5), (2.5, -10.5))
            Line((2.5, -10.5), (2.5, -7.599342077))
            ThreePointArc((2.5, -7.599342077), (1.265950905, -7.899200485), (0, -8))
        make_face()
    extrude(amount=-CUT_EXTRUDE18_DEPTH, mode=Mode.SUBTRACT)

    # Sketch52 → Boss-Extrude20 (add)
    with BuildSketch(Plane(origin=(0, 13, 0), x_dir=(1, 0, 0), z_dir=(0, 1, 0))):
        Polygon((-10.67, -10.67), (-10.67, 0), (-13.67, 0), (-13.67, -13.67), (13.67, -13.67), (13.67, 13.67), (-13.67, 13.67), (-10.67, 10.67), (10.67, 10.67), (10.67, -10.67), align=None)
    extrude(amount=BOSS_EXTRUDE20_DEPTH)

    # Sketch53 → Cut-Extrude20 (cut)
    with BuildSketch(Plane.XZ):
        with BuildLine():
            Line((-7.691553809, 2.2), (-14.332131733, 2.2))
            ThreePointArc((-14.332131733, 2.2), (-14.5, 0), (-14.332131733, -2.2))
            Line((-14.332131733, -2.2), (-7.691553809, -2.2))
            ThreePointArc((-7.691553809, -2.2), (-8, 0), (-7.691553809, 2.2))
        make_face()
    extrude(amount=-CUT_EXTRUDE20_DEPTH, mode=Mode.SUBTRACT)


solid = part_1.part
